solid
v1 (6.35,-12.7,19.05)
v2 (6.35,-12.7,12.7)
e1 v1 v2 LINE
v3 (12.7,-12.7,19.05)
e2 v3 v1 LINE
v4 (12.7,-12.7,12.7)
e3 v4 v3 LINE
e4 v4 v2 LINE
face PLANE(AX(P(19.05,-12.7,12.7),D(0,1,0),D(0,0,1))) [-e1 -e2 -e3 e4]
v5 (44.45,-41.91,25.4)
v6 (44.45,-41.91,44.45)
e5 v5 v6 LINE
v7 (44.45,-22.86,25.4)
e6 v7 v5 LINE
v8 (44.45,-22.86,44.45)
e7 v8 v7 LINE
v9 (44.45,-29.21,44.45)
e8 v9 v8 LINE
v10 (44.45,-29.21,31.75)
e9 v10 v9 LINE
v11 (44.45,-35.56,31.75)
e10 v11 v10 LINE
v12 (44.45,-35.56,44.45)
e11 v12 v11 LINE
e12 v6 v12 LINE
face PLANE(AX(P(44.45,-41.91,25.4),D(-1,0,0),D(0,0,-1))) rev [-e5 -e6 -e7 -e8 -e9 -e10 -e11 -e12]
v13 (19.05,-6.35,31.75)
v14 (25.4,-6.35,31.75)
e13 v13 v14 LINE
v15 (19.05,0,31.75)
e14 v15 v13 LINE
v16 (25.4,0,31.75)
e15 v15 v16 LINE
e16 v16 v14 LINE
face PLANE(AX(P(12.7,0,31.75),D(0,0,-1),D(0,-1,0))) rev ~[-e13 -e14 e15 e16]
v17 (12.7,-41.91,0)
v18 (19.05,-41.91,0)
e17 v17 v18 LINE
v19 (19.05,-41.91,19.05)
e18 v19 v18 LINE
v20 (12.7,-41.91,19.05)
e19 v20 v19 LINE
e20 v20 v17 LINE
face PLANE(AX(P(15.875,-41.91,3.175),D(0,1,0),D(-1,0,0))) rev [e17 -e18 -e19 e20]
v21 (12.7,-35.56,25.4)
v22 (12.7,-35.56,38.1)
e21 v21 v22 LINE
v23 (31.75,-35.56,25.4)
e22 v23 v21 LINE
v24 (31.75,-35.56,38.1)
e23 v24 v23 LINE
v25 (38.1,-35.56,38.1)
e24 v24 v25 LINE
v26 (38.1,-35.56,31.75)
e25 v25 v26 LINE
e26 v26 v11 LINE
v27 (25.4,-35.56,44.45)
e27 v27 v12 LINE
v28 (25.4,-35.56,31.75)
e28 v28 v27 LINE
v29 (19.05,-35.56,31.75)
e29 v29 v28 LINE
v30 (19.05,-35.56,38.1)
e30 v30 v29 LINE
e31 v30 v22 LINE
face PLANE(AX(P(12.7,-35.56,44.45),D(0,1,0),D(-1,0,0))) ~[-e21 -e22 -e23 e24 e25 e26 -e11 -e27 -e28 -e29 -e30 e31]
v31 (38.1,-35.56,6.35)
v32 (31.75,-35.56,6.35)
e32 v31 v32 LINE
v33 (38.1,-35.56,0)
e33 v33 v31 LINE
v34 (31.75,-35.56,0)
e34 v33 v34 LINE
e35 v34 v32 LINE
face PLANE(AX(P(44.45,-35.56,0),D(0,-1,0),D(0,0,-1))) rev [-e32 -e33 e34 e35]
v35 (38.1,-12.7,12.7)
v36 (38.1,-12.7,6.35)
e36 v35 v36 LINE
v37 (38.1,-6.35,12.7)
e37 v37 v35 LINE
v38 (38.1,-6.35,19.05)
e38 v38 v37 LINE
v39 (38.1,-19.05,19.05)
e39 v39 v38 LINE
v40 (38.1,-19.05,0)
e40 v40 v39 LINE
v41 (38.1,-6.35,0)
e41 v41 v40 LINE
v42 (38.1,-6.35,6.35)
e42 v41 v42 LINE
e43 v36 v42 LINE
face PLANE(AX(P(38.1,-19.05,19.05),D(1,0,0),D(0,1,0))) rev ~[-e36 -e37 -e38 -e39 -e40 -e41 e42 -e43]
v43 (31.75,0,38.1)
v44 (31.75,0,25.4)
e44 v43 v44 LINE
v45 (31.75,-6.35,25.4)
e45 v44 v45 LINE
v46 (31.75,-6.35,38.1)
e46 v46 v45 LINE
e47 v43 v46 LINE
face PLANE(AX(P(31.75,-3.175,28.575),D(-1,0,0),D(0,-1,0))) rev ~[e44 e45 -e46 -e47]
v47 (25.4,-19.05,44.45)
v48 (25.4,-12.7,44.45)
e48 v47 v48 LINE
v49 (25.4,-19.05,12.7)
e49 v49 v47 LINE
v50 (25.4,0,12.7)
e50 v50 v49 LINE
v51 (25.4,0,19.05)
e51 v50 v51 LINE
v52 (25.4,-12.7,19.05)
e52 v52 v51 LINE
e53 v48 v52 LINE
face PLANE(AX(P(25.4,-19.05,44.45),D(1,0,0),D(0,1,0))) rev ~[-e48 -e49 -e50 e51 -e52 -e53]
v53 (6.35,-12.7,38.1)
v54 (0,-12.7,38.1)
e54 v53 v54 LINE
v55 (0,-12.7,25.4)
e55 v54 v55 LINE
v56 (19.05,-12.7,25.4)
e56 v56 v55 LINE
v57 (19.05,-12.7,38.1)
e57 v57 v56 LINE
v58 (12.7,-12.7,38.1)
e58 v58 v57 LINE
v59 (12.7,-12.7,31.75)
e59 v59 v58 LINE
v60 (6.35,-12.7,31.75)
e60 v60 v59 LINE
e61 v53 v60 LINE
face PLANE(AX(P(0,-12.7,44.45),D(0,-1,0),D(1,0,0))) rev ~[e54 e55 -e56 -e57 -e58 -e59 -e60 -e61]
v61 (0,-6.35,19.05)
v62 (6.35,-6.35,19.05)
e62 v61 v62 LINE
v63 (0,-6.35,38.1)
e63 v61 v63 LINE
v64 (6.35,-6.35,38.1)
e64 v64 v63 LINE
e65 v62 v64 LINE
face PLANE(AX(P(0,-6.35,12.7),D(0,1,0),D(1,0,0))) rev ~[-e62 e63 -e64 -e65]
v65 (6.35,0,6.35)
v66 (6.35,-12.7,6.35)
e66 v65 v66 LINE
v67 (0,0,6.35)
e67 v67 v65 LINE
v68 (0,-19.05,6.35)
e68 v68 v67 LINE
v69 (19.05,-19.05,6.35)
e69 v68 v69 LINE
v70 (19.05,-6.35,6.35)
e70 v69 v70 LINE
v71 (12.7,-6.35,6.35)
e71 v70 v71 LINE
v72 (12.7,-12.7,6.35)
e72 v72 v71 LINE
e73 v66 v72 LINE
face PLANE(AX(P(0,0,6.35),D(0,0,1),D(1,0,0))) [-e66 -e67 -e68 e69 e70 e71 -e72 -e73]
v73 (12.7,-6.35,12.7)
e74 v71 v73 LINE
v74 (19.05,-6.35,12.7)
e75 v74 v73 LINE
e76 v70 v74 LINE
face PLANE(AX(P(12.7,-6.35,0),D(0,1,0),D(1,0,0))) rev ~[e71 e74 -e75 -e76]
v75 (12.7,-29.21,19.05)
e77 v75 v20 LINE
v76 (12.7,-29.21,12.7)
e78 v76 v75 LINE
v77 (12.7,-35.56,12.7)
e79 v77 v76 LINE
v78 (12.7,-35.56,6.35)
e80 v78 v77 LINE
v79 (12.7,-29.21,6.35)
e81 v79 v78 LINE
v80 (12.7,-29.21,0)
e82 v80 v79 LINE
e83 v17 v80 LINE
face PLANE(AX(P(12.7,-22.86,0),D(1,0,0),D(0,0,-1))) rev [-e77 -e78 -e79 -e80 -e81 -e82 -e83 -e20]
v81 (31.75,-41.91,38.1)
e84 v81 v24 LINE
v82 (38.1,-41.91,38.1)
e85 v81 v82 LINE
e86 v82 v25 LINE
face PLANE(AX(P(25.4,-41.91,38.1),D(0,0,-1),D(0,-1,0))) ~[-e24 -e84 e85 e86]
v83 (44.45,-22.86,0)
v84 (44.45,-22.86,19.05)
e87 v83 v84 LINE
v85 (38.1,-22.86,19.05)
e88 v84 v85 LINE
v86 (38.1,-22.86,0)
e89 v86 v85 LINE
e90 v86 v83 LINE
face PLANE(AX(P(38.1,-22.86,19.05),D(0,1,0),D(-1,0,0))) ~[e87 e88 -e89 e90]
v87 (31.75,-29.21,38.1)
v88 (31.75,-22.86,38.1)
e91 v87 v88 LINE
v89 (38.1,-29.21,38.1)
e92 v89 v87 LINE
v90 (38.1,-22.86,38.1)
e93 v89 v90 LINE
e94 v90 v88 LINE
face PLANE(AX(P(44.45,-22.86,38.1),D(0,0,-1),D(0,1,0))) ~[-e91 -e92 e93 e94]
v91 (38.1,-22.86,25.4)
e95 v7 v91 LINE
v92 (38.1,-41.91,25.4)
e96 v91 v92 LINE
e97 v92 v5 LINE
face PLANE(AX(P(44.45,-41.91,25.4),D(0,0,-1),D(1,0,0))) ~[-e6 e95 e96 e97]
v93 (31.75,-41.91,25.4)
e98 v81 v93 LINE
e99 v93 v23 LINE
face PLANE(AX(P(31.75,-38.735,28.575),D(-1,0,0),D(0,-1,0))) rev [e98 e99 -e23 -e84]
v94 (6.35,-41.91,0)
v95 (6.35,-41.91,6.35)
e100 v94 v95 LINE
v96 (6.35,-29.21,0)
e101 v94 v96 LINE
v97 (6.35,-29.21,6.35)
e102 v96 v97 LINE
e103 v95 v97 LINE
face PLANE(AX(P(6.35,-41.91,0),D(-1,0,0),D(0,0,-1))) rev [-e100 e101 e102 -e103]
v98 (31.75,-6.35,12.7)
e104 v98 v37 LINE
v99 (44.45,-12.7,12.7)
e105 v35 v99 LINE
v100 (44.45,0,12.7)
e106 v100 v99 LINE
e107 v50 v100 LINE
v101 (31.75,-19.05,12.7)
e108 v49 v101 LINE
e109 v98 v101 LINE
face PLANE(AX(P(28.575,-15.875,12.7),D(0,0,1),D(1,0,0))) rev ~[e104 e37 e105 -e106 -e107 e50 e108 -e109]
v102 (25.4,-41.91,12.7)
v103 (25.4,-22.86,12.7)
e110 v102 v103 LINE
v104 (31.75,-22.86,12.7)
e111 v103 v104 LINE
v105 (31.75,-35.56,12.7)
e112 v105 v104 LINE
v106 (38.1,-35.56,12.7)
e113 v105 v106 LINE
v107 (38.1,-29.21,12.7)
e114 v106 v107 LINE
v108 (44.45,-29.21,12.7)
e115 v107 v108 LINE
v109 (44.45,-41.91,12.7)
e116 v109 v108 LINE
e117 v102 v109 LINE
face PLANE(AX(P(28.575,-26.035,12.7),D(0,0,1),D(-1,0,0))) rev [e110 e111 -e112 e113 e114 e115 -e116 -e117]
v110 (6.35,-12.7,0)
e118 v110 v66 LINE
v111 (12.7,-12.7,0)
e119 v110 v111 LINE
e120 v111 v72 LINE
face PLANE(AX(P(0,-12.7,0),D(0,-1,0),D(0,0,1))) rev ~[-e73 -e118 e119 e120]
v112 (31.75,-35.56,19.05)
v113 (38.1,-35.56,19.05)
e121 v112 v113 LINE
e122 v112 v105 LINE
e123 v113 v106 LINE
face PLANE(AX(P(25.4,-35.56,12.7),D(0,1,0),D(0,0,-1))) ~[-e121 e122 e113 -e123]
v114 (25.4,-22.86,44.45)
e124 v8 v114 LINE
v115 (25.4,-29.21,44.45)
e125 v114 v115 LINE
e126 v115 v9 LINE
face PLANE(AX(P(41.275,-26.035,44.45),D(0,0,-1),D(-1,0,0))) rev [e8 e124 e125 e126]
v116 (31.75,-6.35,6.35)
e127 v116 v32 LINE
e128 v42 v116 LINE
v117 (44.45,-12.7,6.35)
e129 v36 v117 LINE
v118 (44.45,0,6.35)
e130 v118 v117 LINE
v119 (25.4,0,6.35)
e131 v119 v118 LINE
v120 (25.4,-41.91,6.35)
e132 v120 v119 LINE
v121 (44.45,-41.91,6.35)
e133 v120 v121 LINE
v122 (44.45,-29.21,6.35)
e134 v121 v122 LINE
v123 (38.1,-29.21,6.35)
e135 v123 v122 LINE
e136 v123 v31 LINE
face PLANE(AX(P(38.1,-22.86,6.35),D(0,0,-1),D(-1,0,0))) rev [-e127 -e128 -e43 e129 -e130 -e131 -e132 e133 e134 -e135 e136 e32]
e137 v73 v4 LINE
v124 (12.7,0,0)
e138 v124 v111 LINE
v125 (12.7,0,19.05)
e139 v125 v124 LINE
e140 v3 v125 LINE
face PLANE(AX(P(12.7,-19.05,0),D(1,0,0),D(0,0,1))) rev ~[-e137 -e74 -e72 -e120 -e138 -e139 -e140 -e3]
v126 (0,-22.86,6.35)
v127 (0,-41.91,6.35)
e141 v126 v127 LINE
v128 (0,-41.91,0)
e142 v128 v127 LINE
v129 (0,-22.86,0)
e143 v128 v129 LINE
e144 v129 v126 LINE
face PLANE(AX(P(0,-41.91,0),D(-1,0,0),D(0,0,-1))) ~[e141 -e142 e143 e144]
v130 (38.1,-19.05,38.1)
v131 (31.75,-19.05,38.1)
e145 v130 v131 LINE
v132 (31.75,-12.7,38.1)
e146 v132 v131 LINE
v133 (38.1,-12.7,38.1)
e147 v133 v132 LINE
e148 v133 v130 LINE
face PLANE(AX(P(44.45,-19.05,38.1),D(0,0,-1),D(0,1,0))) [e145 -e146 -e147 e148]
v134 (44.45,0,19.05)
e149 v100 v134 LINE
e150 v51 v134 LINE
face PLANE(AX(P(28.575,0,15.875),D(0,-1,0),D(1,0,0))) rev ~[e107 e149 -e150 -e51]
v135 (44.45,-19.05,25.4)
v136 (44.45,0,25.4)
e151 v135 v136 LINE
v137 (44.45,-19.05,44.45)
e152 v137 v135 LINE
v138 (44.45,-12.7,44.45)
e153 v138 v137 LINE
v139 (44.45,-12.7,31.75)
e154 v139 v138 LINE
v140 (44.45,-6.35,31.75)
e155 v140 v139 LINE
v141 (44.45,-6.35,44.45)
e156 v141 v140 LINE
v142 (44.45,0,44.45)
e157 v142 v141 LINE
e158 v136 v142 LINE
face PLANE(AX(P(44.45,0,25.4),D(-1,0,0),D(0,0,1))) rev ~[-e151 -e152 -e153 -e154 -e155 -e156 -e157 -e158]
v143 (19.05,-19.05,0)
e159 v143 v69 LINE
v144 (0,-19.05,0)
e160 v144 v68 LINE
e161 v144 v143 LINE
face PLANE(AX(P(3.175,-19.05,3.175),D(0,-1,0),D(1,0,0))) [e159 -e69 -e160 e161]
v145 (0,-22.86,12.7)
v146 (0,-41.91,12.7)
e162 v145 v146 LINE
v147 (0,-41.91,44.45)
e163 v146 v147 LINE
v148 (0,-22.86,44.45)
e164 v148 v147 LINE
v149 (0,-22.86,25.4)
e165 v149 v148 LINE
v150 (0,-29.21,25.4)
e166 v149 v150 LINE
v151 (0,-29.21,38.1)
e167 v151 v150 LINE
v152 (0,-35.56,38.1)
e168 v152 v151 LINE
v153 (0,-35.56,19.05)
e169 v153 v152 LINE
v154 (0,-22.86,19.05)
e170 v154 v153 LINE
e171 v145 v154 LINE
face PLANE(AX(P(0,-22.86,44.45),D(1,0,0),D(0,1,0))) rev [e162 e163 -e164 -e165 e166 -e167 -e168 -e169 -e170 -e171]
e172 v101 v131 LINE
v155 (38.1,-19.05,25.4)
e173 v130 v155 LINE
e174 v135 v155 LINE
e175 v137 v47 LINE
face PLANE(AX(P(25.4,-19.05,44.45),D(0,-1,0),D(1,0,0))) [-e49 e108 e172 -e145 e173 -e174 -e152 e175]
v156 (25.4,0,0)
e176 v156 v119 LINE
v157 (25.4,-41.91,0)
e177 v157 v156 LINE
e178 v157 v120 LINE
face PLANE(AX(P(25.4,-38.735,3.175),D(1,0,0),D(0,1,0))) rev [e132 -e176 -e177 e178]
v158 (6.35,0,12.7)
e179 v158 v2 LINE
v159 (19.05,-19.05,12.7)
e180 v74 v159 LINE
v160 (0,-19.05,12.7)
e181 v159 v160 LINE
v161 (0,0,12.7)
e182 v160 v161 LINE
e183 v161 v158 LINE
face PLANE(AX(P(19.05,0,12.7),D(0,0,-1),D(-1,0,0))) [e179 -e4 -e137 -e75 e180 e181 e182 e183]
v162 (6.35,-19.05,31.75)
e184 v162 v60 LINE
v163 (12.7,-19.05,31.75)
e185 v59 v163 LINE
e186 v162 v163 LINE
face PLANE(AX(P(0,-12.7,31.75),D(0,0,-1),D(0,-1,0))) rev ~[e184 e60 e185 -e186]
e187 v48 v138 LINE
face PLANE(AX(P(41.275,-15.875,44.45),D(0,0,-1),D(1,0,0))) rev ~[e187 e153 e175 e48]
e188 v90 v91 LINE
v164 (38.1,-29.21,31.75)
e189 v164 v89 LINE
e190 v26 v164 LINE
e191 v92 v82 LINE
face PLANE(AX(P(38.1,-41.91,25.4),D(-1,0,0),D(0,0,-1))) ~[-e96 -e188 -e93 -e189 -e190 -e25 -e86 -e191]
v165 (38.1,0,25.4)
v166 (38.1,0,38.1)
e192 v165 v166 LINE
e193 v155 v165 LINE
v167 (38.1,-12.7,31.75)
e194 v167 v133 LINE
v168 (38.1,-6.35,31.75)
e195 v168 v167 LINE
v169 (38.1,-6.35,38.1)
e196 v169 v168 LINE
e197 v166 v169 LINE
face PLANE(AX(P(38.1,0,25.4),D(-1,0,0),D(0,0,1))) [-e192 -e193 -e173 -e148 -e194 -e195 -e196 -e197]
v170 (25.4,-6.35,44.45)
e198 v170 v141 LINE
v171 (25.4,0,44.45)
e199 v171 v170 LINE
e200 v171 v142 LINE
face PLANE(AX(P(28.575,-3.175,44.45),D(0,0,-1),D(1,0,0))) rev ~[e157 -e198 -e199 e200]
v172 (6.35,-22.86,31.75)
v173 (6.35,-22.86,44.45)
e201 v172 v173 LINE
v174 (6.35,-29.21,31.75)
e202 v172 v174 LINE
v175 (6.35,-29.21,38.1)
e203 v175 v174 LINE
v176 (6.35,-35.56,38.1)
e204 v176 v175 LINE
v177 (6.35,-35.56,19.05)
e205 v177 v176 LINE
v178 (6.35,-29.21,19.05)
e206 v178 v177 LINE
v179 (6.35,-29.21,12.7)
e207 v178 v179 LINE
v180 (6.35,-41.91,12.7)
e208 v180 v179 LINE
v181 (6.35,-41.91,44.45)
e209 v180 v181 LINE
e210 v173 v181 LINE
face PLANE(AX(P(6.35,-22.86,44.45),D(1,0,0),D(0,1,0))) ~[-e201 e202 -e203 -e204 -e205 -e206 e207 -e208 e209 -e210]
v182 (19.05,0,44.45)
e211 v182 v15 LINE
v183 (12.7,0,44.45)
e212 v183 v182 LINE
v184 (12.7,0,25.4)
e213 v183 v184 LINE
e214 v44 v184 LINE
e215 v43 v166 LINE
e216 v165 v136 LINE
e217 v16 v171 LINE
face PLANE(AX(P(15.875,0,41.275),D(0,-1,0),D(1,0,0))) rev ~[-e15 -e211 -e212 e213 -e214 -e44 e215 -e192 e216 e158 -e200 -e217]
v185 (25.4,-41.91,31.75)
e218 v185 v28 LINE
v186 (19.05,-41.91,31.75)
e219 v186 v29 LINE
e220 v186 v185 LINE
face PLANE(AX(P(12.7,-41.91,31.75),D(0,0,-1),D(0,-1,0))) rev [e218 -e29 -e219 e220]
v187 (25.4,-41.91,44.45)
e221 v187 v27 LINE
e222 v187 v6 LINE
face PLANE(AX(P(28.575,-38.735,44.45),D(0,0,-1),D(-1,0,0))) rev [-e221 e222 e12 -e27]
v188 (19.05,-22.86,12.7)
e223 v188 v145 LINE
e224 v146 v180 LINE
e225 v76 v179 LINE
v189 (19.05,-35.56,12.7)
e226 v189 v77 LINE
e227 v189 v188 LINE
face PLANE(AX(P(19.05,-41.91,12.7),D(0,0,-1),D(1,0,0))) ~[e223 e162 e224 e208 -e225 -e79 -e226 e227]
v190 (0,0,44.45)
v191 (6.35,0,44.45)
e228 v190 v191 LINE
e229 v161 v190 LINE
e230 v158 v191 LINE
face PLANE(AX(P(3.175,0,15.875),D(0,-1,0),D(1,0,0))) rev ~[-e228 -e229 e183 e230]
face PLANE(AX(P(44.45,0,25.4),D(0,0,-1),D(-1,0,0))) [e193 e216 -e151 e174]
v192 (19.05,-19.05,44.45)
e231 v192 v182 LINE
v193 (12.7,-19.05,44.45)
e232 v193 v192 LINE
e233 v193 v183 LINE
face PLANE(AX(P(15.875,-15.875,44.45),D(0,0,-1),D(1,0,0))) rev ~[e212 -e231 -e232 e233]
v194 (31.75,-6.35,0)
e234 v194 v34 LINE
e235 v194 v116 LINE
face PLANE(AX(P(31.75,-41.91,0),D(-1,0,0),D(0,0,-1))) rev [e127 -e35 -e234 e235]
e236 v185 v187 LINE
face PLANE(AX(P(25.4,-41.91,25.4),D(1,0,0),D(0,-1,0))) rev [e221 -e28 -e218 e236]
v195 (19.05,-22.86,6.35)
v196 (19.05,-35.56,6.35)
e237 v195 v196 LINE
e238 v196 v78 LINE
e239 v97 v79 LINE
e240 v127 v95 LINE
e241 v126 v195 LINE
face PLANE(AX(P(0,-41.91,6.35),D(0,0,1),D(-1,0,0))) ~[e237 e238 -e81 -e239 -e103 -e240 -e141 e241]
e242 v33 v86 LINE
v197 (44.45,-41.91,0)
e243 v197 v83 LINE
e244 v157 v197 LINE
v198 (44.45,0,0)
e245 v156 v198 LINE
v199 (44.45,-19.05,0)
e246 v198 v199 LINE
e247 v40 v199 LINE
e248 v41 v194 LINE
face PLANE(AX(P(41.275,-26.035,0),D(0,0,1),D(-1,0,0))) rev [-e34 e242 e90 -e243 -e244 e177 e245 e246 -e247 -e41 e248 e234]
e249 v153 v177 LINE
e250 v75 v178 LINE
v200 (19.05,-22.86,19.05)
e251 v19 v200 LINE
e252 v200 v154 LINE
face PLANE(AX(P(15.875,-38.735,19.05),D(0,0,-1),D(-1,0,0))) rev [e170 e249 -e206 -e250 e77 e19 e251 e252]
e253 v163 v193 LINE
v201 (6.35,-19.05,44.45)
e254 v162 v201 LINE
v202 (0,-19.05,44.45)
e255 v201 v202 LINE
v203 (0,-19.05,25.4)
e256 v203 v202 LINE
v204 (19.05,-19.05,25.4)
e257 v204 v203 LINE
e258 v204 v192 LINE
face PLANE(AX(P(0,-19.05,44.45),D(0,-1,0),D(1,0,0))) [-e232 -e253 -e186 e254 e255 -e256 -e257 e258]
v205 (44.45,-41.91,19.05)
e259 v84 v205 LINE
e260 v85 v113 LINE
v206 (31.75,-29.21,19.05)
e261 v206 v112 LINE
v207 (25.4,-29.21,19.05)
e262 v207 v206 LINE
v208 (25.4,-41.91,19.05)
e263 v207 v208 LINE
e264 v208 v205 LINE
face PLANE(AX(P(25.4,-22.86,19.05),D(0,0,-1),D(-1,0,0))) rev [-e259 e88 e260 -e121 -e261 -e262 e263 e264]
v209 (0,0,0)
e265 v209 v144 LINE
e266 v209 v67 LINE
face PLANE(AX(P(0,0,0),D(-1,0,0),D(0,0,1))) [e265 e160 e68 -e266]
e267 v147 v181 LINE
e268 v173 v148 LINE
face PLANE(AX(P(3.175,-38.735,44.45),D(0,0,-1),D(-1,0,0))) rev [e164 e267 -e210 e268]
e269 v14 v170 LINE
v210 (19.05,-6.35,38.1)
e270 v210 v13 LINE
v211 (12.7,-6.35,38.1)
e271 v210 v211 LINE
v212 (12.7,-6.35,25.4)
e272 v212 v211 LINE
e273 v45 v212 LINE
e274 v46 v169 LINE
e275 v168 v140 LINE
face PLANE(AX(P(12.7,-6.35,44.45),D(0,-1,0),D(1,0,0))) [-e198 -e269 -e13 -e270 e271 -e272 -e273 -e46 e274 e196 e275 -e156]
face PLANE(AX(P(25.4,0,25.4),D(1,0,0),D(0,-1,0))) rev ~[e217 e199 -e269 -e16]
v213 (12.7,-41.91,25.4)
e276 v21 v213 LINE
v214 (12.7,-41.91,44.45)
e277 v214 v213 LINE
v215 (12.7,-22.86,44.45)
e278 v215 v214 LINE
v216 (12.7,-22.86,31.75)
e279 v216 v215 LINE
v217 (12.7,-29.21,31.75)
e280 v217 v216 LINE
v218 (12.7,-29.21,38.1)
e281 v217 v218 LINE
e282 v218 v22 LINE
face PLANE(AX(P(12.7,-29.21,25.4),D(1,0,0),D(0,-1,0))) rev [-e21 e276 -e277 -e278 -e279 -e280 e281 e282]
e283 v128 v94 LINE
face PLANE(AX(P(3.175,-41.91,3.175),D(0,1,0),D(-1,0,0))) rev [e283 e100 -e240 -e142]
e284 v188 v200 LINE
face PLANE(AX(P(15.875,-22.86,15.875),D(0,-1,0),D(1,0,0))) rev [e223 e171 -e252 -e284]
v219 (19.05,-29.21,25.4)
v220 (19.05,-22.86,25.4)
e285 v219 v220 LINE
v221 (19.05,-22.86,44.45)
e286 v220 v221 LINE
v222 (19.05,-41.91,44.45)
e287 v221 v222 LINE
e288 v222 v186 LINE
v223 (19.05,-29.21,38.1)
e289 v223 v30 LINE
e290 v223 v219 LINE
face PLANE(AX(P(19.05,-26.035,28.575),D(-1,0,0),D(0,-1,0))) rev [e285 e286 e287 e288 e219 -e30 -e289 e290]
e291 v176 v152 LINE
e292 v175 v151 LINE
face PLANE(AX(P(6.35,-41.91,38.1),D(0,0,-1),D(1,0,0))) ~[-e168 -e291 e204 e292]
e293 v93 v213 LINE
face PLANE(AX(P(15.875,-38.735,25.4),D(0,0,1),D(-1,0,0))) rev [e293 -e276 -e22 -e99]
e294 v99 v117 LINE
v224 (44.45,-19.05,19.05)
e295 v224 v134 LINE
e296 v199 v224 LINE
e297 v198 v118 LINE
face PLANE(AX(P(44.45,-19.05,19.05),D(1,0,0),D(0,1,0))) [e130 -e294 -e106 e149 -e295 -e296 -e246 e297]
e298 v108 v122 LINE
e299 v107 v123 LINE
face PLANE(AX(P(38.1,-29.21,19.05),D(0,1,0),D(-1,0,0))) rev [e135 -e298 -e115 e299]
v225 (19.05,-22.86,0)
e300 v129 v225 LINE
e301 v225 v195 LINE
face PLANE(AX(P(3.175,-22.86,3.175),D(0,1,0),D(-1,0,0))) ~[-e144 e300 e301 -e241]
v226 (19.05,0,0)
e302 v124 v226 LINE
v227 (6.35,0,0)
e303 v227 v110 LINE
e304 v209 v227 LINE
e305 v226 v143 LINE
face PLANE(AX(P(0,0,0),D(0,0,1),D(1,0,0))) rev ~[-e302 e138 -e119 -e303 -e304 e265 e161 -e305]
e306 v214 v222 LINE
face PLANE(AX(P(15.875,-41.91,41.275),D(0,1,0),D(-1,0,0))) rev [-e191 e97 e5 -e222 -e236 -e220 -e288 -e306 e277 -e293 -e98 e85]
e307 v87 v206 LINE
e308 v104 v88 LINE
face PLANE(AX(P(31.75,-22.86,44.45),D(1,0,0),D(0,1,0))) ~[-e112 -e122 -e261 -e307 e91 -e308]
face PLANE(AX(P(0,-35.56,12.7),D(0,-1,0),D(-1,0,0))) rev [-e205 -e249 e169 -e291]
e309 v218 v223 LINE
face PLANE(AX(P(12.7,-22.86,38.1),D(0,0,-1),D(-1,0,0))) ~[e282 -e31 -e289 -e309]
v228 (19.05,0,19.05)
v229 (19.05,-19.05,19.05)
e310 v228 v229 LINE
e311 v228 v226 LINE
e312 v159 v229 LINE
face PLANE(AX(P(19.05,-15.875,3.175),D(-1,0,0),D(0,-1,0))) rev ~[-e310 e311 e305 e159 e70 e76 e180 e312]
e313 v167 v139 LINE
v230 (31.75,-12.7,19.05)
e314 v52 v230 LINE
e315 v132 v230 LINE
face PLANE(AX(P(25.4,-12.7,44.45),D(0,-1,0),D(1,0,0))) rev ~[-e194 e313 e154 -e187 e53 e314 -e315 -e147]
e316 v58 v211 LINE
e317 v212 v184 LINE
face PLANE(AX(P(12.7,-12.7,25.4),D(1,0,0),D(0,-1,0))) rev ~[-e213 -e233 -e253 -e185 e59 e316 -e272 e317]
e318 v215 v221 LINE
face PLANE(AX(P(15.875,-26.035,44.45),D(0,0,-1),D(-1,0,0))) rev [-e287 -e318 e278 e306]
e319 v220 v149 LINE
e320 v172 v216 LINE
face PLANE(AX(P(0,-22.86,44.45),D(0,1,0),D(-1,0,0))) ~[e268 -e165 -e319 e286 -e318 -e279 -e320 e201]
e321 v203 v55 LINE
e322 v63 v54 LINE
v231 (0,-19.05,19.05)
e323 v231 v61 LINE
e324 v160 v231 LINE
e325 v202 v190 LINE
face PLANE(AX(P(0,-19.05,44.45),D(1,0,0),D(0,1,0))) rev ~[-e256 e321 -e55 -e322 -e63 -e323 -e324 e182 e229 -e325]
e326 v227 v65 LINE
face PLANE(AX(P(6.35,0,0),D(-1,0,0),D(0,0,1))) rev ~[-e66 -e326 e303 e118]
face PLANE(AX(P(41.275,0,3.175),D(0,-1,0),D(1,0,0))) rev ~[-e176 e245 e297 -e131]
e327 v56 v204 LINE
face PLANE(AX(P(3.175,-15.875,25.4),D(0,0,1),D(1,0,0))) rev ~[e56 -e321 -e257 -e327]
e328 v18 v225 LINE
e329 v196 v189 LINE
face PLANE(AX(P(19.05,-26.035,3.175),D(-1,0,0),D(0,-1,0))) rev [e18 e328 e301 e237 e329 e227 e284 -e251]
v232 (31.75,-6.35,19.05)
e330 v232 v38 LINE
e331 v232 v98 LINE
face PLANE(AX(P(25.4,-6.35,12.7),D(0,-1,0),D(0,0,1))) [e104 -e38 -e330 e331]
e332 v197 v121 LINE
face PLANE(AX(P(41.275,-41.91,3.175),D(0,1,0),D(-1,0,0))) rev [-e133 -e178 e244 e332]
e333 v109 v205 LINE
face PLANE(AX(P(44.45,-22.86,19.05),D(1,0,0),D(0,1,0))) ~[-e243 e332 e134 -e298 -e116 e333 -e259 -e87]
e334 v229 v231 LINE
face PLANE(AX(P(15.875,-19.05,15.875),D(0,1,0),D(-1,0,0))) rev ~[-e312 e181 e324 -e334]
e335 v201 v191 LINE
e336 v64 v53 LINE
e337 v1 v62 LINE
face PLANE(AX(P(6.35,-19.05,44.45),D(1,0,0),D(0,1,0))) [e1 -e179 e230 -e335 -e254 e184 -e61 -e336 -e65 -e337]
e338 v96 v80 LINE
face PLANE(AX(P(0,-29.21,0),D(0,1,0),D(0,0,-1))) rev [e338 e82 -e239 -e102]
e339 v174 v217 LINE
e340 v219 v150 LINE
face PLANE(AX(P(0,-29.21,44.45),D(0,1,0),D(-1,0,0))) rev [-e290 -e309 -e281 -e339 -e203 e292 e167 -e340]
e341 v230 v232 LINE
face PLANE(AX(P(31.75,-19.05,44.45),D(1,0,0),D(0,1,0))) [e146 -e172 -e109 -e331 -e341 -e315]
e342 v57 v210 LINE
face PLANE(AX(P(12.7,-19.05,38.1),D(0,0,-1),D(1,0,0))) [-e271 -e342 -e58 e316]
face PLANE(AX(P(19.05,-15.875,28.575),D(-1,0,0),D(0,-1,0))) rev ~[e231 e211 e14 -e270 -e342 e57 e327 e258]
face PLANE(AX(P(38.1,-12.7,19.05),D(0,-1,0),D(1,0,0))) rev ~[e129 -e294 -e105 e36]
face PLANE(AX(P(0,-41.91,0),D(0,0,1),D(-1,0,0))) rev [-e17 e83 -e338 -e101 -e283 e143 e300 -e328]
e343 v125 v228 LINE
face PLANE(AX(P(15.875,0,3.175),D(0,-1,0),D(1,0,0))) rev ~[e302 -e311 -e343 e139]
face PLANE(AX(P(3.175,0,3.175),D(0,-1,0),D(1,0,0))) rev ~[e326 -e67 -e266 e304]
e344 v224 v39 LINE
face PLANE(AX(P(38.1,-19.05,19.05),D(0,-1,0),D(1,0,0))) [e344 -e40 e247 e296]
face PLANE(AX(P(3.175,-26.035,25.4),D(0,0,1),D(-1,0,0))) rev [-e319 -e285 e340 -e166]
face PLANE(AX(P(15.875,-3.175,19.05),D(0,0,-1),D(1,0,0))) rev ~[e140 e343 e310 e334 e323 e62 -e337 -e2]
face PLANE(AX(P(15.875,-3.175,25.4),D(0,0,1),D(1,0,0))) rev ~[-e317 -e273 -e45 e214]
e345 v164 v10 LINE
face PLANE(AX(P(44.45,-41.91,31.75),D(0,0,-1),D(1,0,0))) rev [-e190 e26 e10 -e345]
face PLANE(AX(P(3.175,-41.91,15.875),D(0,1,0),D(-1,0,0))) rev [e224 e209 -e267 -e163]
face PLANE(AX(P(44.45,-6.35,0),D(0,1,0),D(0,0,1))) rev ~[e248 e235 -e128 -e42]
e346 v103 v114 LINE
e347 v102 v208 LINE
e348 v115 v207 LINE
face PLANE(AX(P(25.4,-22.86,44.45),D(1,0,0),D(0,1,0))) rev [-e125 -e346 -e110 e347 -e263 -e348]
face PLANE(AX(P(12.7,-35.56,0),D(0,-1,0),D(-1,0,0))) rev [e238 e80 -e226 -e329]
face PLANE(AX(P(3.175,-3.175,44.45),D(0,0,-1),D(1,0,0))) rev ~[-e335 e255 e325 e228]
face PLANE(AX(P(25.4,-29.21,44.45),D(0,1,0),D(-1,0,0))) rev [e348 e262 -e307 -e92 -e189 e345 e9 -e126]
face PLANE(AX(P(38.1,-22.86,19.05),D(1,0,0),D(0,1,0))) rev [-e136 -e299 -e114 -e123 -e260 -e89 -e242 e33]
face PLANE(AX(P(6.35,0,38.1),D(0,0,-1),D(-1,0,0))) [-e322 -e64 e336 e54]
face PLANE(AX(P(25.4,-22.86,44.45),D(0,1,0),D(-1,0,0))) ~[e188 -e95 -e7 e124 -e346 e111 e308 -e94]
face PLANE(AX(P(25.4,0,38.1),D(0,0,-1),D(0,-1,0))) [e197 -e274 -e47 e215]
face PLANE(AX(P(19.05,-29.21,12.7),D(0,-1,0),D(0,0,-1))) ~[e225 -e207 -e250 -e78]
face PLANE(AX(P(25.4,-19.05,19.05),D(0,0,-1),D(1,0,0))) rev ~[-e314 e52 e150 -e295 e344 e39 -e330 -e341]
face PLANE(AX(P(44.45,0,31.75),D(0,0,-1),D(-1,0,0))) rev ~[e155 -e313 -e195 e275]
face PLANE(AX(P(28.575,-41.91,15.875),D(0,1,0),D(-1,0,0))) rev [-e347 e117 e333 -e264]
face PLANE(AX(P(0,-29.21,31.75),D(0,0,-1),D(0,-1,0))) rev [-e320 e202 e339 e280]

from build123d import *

# Parameters (mm, degrees)
F0_W      = 6.35
F0_H      = 6.35
F1_DEPTH  = 19.05
F2_W      = 6.35
F2_H      = 6.35
F3_DEPTH  = 19.05
F4_W      = 6.35
F4_H      = 6.35
F5_DEPTH  = 19.05
F6_W      = 6.35
F6_H      = 6.35
F7_DEPTH  = 19.05
F8_W      = 6.35
F8_H      = 6.35
F9_DEPTH  = 19.05
F10_W     = 6.35
F10_H     = 6.35
F11_DEPTH = 19.05
F12_W     = 6.35
F12_H     = 6.35
F13_DEPTH = 19.05
F14_W     = 6.35
F14_H     = 6.35
F15_DEPTH = 31.75
F16_W     = 6.35
F16_H     = 6.35
F17_DEPTH = 19.05
F18_W     = 6.35
F18_H     = 6.35
F19_DEPTH = 19.05
F20_W     = 6.35
F20_H     = 6.35
F21_DEPTH = 19.05
F22_W     = 6.35
F22_H     = 6.35
F23_DEPTH = 19.05
F24_W     = 6.35
F24_H     = 6.35
F25_DEPTH = 19.05
F26_W     = 6.35
F26_H     = 6.35
F27_DEPTH = 19.05
F28_W     = 6.35
F28_H     = 6.35
F29_DEPTH = 19.05
F30_W     = 6.35
F30_H     = 6.35
F31_DEPTH = 19.05
F32_W     = 6.35
F32_H     = 6.35
F33_DEPTH = 19.05
F34_W     = 6.35
F34_H     = 6.35
F35_DEPTH = 19.05
F36_W     = 6.35
F36_H     = 6.35
F37_DEPTH = 19.05
F38_W     = 6.35
F38_H     = 6.35
F39_DEPTH = 19.05
F40_W     = 6.35
F40_H     = 6.35
F41_DEPTH = 19.05
F42_W     = 6.35
F42_H     = 6.35
F43_DEPTH = 31.75
F44_W     = 6.35
F44_H     = 6.35
F45_DEPTH = 19.05
F46_W     = 6.35
F46_H     = 6.35
F47_DEPTH = 19.05
F48_W     = 6.35
F48_H     = 6.35
F49_DEPTH = 19.05
F50_W     = 6.35
F50_H     = 6.35
F51_DEPTH = 19.05
F52_W     = 6.35
F52_H     = 6.35
F53_DEPTH = 19.05
F54_W     = 6.35
F54_H     = 6.35
F55_DEPTH = 19.05
F56_W     = 6.35
F56_H     = 6.35
F57_DEPTH = 20.955


with BuildPart() as f1:
    # F0 (on Front) → F1 (new body)
    with BuildSketch(Plane.XZ):
        with Locations((3.175, 3.175)):
            Rectangle(F0_W, F0_H)
    extrude(amount=F1_DEPTH)

    # F2 (on face) → F3 (join)
    with BuildSketch(Plane(origin=(0, 0, 0), x_dir=(0, -1, 0), z_dir=(-1, 0, 0))):
        with Locations((15.875, 3.175)):
            Rectangle(F2_W, F2_H)
    extrude(amount=-F3_DEPTH)

    # F4 (on face) → F5 (join)
    with BuildSketch(Plane.XZ.offset(19.05)):
        with Locations((15.875, 3.175)):
            Rectangle(F4_W, F4_H)
    extrude(amount=-F5_DEPTH)

    # F6 (on face) → F7 (join)
    with BuildSketch(Plane(origin=(0, 0, 0), x_dir=(1, 0, 0), z_dir=(0, 0, -1))):
        with Locations((15.875, 3.175)):
            Rectangle(F6_W, F6_H)
    extrude(amount=-F7_DEPTH)

    # F8 (on face) → F9 (join)
    with BuildSketch(Plane(origin=(0, 0, 0), x_dir=(-1, 0, 0), z_dir=(0, 1, 0))):
        with Locations((-15.875, 15.875)):
            Rectangle(F8_W, F8_H)
    extrude(amount=-F9_DEPTH)

    # F10 (on face) → F11 (join)
    with BuildSketch(Plane.YZ.offset(19.05)):
        with Locations((-15.875, 15.875)):
            Rectangle(F10_W, F10_H)
    extrude(amount=-F11_DEPTH)

    # F12 (on face) → F13 (join)
    with BuildSketch(Plane.XZ.offset(19.05)):
        with Locations((3.175, 15.875)):
            Rectangle(F12_W, F12_H)
    extrude(amount=-F13_DEPTH)

    # F14 (on face) → F15 (join)
    with BuildSketch(Plane(origin=(0, 0, 12.7), x_dir=(1, 0, 0), z_dir=(0, 0, -1))):
        with Locations((3.175, 3.175)):
            Rectangle(F14_W, F14_H)
    extrude(amount=-F15_DEPTH)

    # F16 (on face) → F17 (join)
    with BuildSketch(Plane(origin=(0, 0, 0), x_dir=(-1, 0, 0), z_dir=(0, 1, 0))):
        with Locations((-3.175, 41.275)):
            Rectangle(F16_W, F16_H)
    extrude(amount=-F17_DEPTH)

    # F18 (on face) → F19 (join)
    with BuildSketch(Plane.XY.offset(44.45)):
        with Locations((3.175, -15.875)):
            Rectangle(F18_W, F18_H)
    extrude(amount=-F19_DEPTH)

    # F20 (on face) → F21 (join)
    with BuildSketch(Plane(origin=(0, 0, 0), x_dir=(0, -1, 0), z_dir=(-1, 0, 0))):
        with Locations((15.875, 28.575)):
            Rectangle(F20_W, F20_H)
    extrude(amount=-F21_DEPTH)

    # F22 (on face) → F23 (join)
    with BuildSketch(Plane(origin=(0, 0, 25.4), x_dir=(1, 0, 0), z_dir=(0, 0, -1))):
        with Locations((15.875, 15.875)):
            Rectangle(F22_W, F22_H)
    extrude(amount=-F23_DEPTH)

    # F24 (on face) → F25 (join)
    with BuildSketch(Plane.XZ.offset(19.05)):
        with Locations((15.875, 41.275)):
            Rectangle(F24_W, F24_H)
    extrude(amount=-F25_DEPTH)

    # F26 (on face) → F27 (join)
    with BuildSketch(Plane.XY.offset(44.45)):
        with Locations((15.875, -3.175)):
            Rectangle(F26_W, F26_H)
    extrude(amount=-F27_DEPTH)

    # F28 (on face) → F29 (join)
    with BuildSketch(Plane(origin=(12.7, 0, 0), x_dir=(0, -1, 0), z_dir=(-1, 0, 0))):
        with Locations((3.175, 28.575)):
            Rectangle(F28_W, F28_H)
    extrude(amount=-F29_DEPTH)

    # F30 (on face) → F31 (join)
    with BuildSketch(Plane(origin=(0, 0, 25.4), x_dir=(1, 0, 0), z_dir=(0, 0, -1))):
        with Locations((28.575, 3.175)):
            Rectangle(F30_W, F30_H)
    extrude(amount=-F31_DEPTH)

    # F32 (on face) → F33 (join)
    with BuildSketch(Plane(origin=(25.4, 0, 0), x_dir=(0, -1, 0), z_dir=(-1, 0, 0))):
        with Locations((3.175, 41.275)):
            Rectangle(F32_W, F32_H)
    extrude(amount=-F33_DEPTH)

    # F34 (on face) → F35 (join)
    with BuildSketch(Plane.XY.offset(44.45)):
        with Locations((41.275, -3.175)):
            Rectangle(F34_W, F34_H)
    extrude(amount=-F35_DEPTH)

    # F36 (on face) → F37 (join)
    with BuildSketch(Plane(origin=(0, 0, 0), x_dir=(-1, 0, 0), z_dir=(0, 1, 0))):
        with Locations((-41.275, 28.575)):
            Rectangle(F36_W, F36_H)
    extrude(amount=-F37_DEPTH)

    # F38 (on face) → F39 (join)
    with BuildSketch(Plane(origin=(0, 0, 25.4), x_dir=(1, 0, 0), z_dir=(0, 0, -1))):
        with Locations((41.275, 15.875)):
            Rectangle(F38_W, F38_H)
    extrude(amount=-F39_DEPTH)

    # F40 (on face) → F41 (join)
    with BuildSketch(Plane.YZ.offset(44.45)):
        with Locations((-15.875, 41.275)):
            Rectangle(F40_W, F40_H)
    extrude(amount=-F41_DEPTH)

    # F42 (on face) → F43 (join)
    with BuildSketch(Plane.XY.offset(44.45)):
        with Locations((28.575, -15.875)):
            Rectangle(F42_W, F42_H)
    extrude(amount=-F43_DEPTH)

    # F44 (on face) → F45 (join)
    with BuildSketch(Plane.XZ.offset(19.05)):
        with Locations((28.575, 15.875)):
            Rectangle(F44_W, F44_H)
    extrude(amount=-F45_DEPTH)

    # F46 (on face) → F47 (join)
    with BuildSketch(Plane(origin=(25.4, 0, 0), x_dir=(0, -1, 0), z_dir=(-1, 0, 0))):
        with Locations((3.175, 15.875)):
            Rectangle(F46_W, F46_H)
    extrude(amount=-F47_DEPTH)

    # F48 (on face) → F49 (join)
    with BuildSketch(Plane(origin=(0, 0, 0), x_dir=(-1, 0, 0), z_dir=(0, 1, 0))):
        with Locations((-41.275, 15.875)):
            Rectangle(F48_W, F48_H)
    extrude(amount=-F49_DEPTH)

    # F50 (on face) → F51 (join)
    with BuildSketch(Plane.XY.offset(19.05)):
        with Locations((41.275, -15.875)):
            Rectangle(F50_W, F50_H)
    extrude(amount=-F51_DEPTH)

    # F52 (on face) → F53 (join)
    with BuildSketch(Plane.XZ.offset(19.05)):
        with Locations((41.275, 3.175)):
            Rectangle(F52_W, F52_H)
    extrude(amount=-F53_DEPTH)

    # F54 (on face) → F55 (join)
    with BuildSketch(Plane.YZ.offset(44.45)):
        with Locations((-3.175, 3.175)):
            Rectangle(F54_W, F54_H)
    extrude(amount=-F55_DEPTH)

    # F56 (on face) → F57 (join)
    with BuildSketch(Plane(origin=(0, 0, 0), x_dir=(-1, 0, 0), z_dir=(0, 1, 0))):
        with Locations((-28.575, 3.175)):
            Rectangle(F56_W, F56_H)
    extrude(amount=-F57_DEPTH)

    # F58: F1 across face


with BuildPart() as f1_1:
    add(f1.part)
    add(f1.part.mirror(Plane(origin=(28.575, -20.955, 3.175), x_dir=(-1, 0, 0), z_dir=(0, -1, 0))))


solid = f1_1.part
